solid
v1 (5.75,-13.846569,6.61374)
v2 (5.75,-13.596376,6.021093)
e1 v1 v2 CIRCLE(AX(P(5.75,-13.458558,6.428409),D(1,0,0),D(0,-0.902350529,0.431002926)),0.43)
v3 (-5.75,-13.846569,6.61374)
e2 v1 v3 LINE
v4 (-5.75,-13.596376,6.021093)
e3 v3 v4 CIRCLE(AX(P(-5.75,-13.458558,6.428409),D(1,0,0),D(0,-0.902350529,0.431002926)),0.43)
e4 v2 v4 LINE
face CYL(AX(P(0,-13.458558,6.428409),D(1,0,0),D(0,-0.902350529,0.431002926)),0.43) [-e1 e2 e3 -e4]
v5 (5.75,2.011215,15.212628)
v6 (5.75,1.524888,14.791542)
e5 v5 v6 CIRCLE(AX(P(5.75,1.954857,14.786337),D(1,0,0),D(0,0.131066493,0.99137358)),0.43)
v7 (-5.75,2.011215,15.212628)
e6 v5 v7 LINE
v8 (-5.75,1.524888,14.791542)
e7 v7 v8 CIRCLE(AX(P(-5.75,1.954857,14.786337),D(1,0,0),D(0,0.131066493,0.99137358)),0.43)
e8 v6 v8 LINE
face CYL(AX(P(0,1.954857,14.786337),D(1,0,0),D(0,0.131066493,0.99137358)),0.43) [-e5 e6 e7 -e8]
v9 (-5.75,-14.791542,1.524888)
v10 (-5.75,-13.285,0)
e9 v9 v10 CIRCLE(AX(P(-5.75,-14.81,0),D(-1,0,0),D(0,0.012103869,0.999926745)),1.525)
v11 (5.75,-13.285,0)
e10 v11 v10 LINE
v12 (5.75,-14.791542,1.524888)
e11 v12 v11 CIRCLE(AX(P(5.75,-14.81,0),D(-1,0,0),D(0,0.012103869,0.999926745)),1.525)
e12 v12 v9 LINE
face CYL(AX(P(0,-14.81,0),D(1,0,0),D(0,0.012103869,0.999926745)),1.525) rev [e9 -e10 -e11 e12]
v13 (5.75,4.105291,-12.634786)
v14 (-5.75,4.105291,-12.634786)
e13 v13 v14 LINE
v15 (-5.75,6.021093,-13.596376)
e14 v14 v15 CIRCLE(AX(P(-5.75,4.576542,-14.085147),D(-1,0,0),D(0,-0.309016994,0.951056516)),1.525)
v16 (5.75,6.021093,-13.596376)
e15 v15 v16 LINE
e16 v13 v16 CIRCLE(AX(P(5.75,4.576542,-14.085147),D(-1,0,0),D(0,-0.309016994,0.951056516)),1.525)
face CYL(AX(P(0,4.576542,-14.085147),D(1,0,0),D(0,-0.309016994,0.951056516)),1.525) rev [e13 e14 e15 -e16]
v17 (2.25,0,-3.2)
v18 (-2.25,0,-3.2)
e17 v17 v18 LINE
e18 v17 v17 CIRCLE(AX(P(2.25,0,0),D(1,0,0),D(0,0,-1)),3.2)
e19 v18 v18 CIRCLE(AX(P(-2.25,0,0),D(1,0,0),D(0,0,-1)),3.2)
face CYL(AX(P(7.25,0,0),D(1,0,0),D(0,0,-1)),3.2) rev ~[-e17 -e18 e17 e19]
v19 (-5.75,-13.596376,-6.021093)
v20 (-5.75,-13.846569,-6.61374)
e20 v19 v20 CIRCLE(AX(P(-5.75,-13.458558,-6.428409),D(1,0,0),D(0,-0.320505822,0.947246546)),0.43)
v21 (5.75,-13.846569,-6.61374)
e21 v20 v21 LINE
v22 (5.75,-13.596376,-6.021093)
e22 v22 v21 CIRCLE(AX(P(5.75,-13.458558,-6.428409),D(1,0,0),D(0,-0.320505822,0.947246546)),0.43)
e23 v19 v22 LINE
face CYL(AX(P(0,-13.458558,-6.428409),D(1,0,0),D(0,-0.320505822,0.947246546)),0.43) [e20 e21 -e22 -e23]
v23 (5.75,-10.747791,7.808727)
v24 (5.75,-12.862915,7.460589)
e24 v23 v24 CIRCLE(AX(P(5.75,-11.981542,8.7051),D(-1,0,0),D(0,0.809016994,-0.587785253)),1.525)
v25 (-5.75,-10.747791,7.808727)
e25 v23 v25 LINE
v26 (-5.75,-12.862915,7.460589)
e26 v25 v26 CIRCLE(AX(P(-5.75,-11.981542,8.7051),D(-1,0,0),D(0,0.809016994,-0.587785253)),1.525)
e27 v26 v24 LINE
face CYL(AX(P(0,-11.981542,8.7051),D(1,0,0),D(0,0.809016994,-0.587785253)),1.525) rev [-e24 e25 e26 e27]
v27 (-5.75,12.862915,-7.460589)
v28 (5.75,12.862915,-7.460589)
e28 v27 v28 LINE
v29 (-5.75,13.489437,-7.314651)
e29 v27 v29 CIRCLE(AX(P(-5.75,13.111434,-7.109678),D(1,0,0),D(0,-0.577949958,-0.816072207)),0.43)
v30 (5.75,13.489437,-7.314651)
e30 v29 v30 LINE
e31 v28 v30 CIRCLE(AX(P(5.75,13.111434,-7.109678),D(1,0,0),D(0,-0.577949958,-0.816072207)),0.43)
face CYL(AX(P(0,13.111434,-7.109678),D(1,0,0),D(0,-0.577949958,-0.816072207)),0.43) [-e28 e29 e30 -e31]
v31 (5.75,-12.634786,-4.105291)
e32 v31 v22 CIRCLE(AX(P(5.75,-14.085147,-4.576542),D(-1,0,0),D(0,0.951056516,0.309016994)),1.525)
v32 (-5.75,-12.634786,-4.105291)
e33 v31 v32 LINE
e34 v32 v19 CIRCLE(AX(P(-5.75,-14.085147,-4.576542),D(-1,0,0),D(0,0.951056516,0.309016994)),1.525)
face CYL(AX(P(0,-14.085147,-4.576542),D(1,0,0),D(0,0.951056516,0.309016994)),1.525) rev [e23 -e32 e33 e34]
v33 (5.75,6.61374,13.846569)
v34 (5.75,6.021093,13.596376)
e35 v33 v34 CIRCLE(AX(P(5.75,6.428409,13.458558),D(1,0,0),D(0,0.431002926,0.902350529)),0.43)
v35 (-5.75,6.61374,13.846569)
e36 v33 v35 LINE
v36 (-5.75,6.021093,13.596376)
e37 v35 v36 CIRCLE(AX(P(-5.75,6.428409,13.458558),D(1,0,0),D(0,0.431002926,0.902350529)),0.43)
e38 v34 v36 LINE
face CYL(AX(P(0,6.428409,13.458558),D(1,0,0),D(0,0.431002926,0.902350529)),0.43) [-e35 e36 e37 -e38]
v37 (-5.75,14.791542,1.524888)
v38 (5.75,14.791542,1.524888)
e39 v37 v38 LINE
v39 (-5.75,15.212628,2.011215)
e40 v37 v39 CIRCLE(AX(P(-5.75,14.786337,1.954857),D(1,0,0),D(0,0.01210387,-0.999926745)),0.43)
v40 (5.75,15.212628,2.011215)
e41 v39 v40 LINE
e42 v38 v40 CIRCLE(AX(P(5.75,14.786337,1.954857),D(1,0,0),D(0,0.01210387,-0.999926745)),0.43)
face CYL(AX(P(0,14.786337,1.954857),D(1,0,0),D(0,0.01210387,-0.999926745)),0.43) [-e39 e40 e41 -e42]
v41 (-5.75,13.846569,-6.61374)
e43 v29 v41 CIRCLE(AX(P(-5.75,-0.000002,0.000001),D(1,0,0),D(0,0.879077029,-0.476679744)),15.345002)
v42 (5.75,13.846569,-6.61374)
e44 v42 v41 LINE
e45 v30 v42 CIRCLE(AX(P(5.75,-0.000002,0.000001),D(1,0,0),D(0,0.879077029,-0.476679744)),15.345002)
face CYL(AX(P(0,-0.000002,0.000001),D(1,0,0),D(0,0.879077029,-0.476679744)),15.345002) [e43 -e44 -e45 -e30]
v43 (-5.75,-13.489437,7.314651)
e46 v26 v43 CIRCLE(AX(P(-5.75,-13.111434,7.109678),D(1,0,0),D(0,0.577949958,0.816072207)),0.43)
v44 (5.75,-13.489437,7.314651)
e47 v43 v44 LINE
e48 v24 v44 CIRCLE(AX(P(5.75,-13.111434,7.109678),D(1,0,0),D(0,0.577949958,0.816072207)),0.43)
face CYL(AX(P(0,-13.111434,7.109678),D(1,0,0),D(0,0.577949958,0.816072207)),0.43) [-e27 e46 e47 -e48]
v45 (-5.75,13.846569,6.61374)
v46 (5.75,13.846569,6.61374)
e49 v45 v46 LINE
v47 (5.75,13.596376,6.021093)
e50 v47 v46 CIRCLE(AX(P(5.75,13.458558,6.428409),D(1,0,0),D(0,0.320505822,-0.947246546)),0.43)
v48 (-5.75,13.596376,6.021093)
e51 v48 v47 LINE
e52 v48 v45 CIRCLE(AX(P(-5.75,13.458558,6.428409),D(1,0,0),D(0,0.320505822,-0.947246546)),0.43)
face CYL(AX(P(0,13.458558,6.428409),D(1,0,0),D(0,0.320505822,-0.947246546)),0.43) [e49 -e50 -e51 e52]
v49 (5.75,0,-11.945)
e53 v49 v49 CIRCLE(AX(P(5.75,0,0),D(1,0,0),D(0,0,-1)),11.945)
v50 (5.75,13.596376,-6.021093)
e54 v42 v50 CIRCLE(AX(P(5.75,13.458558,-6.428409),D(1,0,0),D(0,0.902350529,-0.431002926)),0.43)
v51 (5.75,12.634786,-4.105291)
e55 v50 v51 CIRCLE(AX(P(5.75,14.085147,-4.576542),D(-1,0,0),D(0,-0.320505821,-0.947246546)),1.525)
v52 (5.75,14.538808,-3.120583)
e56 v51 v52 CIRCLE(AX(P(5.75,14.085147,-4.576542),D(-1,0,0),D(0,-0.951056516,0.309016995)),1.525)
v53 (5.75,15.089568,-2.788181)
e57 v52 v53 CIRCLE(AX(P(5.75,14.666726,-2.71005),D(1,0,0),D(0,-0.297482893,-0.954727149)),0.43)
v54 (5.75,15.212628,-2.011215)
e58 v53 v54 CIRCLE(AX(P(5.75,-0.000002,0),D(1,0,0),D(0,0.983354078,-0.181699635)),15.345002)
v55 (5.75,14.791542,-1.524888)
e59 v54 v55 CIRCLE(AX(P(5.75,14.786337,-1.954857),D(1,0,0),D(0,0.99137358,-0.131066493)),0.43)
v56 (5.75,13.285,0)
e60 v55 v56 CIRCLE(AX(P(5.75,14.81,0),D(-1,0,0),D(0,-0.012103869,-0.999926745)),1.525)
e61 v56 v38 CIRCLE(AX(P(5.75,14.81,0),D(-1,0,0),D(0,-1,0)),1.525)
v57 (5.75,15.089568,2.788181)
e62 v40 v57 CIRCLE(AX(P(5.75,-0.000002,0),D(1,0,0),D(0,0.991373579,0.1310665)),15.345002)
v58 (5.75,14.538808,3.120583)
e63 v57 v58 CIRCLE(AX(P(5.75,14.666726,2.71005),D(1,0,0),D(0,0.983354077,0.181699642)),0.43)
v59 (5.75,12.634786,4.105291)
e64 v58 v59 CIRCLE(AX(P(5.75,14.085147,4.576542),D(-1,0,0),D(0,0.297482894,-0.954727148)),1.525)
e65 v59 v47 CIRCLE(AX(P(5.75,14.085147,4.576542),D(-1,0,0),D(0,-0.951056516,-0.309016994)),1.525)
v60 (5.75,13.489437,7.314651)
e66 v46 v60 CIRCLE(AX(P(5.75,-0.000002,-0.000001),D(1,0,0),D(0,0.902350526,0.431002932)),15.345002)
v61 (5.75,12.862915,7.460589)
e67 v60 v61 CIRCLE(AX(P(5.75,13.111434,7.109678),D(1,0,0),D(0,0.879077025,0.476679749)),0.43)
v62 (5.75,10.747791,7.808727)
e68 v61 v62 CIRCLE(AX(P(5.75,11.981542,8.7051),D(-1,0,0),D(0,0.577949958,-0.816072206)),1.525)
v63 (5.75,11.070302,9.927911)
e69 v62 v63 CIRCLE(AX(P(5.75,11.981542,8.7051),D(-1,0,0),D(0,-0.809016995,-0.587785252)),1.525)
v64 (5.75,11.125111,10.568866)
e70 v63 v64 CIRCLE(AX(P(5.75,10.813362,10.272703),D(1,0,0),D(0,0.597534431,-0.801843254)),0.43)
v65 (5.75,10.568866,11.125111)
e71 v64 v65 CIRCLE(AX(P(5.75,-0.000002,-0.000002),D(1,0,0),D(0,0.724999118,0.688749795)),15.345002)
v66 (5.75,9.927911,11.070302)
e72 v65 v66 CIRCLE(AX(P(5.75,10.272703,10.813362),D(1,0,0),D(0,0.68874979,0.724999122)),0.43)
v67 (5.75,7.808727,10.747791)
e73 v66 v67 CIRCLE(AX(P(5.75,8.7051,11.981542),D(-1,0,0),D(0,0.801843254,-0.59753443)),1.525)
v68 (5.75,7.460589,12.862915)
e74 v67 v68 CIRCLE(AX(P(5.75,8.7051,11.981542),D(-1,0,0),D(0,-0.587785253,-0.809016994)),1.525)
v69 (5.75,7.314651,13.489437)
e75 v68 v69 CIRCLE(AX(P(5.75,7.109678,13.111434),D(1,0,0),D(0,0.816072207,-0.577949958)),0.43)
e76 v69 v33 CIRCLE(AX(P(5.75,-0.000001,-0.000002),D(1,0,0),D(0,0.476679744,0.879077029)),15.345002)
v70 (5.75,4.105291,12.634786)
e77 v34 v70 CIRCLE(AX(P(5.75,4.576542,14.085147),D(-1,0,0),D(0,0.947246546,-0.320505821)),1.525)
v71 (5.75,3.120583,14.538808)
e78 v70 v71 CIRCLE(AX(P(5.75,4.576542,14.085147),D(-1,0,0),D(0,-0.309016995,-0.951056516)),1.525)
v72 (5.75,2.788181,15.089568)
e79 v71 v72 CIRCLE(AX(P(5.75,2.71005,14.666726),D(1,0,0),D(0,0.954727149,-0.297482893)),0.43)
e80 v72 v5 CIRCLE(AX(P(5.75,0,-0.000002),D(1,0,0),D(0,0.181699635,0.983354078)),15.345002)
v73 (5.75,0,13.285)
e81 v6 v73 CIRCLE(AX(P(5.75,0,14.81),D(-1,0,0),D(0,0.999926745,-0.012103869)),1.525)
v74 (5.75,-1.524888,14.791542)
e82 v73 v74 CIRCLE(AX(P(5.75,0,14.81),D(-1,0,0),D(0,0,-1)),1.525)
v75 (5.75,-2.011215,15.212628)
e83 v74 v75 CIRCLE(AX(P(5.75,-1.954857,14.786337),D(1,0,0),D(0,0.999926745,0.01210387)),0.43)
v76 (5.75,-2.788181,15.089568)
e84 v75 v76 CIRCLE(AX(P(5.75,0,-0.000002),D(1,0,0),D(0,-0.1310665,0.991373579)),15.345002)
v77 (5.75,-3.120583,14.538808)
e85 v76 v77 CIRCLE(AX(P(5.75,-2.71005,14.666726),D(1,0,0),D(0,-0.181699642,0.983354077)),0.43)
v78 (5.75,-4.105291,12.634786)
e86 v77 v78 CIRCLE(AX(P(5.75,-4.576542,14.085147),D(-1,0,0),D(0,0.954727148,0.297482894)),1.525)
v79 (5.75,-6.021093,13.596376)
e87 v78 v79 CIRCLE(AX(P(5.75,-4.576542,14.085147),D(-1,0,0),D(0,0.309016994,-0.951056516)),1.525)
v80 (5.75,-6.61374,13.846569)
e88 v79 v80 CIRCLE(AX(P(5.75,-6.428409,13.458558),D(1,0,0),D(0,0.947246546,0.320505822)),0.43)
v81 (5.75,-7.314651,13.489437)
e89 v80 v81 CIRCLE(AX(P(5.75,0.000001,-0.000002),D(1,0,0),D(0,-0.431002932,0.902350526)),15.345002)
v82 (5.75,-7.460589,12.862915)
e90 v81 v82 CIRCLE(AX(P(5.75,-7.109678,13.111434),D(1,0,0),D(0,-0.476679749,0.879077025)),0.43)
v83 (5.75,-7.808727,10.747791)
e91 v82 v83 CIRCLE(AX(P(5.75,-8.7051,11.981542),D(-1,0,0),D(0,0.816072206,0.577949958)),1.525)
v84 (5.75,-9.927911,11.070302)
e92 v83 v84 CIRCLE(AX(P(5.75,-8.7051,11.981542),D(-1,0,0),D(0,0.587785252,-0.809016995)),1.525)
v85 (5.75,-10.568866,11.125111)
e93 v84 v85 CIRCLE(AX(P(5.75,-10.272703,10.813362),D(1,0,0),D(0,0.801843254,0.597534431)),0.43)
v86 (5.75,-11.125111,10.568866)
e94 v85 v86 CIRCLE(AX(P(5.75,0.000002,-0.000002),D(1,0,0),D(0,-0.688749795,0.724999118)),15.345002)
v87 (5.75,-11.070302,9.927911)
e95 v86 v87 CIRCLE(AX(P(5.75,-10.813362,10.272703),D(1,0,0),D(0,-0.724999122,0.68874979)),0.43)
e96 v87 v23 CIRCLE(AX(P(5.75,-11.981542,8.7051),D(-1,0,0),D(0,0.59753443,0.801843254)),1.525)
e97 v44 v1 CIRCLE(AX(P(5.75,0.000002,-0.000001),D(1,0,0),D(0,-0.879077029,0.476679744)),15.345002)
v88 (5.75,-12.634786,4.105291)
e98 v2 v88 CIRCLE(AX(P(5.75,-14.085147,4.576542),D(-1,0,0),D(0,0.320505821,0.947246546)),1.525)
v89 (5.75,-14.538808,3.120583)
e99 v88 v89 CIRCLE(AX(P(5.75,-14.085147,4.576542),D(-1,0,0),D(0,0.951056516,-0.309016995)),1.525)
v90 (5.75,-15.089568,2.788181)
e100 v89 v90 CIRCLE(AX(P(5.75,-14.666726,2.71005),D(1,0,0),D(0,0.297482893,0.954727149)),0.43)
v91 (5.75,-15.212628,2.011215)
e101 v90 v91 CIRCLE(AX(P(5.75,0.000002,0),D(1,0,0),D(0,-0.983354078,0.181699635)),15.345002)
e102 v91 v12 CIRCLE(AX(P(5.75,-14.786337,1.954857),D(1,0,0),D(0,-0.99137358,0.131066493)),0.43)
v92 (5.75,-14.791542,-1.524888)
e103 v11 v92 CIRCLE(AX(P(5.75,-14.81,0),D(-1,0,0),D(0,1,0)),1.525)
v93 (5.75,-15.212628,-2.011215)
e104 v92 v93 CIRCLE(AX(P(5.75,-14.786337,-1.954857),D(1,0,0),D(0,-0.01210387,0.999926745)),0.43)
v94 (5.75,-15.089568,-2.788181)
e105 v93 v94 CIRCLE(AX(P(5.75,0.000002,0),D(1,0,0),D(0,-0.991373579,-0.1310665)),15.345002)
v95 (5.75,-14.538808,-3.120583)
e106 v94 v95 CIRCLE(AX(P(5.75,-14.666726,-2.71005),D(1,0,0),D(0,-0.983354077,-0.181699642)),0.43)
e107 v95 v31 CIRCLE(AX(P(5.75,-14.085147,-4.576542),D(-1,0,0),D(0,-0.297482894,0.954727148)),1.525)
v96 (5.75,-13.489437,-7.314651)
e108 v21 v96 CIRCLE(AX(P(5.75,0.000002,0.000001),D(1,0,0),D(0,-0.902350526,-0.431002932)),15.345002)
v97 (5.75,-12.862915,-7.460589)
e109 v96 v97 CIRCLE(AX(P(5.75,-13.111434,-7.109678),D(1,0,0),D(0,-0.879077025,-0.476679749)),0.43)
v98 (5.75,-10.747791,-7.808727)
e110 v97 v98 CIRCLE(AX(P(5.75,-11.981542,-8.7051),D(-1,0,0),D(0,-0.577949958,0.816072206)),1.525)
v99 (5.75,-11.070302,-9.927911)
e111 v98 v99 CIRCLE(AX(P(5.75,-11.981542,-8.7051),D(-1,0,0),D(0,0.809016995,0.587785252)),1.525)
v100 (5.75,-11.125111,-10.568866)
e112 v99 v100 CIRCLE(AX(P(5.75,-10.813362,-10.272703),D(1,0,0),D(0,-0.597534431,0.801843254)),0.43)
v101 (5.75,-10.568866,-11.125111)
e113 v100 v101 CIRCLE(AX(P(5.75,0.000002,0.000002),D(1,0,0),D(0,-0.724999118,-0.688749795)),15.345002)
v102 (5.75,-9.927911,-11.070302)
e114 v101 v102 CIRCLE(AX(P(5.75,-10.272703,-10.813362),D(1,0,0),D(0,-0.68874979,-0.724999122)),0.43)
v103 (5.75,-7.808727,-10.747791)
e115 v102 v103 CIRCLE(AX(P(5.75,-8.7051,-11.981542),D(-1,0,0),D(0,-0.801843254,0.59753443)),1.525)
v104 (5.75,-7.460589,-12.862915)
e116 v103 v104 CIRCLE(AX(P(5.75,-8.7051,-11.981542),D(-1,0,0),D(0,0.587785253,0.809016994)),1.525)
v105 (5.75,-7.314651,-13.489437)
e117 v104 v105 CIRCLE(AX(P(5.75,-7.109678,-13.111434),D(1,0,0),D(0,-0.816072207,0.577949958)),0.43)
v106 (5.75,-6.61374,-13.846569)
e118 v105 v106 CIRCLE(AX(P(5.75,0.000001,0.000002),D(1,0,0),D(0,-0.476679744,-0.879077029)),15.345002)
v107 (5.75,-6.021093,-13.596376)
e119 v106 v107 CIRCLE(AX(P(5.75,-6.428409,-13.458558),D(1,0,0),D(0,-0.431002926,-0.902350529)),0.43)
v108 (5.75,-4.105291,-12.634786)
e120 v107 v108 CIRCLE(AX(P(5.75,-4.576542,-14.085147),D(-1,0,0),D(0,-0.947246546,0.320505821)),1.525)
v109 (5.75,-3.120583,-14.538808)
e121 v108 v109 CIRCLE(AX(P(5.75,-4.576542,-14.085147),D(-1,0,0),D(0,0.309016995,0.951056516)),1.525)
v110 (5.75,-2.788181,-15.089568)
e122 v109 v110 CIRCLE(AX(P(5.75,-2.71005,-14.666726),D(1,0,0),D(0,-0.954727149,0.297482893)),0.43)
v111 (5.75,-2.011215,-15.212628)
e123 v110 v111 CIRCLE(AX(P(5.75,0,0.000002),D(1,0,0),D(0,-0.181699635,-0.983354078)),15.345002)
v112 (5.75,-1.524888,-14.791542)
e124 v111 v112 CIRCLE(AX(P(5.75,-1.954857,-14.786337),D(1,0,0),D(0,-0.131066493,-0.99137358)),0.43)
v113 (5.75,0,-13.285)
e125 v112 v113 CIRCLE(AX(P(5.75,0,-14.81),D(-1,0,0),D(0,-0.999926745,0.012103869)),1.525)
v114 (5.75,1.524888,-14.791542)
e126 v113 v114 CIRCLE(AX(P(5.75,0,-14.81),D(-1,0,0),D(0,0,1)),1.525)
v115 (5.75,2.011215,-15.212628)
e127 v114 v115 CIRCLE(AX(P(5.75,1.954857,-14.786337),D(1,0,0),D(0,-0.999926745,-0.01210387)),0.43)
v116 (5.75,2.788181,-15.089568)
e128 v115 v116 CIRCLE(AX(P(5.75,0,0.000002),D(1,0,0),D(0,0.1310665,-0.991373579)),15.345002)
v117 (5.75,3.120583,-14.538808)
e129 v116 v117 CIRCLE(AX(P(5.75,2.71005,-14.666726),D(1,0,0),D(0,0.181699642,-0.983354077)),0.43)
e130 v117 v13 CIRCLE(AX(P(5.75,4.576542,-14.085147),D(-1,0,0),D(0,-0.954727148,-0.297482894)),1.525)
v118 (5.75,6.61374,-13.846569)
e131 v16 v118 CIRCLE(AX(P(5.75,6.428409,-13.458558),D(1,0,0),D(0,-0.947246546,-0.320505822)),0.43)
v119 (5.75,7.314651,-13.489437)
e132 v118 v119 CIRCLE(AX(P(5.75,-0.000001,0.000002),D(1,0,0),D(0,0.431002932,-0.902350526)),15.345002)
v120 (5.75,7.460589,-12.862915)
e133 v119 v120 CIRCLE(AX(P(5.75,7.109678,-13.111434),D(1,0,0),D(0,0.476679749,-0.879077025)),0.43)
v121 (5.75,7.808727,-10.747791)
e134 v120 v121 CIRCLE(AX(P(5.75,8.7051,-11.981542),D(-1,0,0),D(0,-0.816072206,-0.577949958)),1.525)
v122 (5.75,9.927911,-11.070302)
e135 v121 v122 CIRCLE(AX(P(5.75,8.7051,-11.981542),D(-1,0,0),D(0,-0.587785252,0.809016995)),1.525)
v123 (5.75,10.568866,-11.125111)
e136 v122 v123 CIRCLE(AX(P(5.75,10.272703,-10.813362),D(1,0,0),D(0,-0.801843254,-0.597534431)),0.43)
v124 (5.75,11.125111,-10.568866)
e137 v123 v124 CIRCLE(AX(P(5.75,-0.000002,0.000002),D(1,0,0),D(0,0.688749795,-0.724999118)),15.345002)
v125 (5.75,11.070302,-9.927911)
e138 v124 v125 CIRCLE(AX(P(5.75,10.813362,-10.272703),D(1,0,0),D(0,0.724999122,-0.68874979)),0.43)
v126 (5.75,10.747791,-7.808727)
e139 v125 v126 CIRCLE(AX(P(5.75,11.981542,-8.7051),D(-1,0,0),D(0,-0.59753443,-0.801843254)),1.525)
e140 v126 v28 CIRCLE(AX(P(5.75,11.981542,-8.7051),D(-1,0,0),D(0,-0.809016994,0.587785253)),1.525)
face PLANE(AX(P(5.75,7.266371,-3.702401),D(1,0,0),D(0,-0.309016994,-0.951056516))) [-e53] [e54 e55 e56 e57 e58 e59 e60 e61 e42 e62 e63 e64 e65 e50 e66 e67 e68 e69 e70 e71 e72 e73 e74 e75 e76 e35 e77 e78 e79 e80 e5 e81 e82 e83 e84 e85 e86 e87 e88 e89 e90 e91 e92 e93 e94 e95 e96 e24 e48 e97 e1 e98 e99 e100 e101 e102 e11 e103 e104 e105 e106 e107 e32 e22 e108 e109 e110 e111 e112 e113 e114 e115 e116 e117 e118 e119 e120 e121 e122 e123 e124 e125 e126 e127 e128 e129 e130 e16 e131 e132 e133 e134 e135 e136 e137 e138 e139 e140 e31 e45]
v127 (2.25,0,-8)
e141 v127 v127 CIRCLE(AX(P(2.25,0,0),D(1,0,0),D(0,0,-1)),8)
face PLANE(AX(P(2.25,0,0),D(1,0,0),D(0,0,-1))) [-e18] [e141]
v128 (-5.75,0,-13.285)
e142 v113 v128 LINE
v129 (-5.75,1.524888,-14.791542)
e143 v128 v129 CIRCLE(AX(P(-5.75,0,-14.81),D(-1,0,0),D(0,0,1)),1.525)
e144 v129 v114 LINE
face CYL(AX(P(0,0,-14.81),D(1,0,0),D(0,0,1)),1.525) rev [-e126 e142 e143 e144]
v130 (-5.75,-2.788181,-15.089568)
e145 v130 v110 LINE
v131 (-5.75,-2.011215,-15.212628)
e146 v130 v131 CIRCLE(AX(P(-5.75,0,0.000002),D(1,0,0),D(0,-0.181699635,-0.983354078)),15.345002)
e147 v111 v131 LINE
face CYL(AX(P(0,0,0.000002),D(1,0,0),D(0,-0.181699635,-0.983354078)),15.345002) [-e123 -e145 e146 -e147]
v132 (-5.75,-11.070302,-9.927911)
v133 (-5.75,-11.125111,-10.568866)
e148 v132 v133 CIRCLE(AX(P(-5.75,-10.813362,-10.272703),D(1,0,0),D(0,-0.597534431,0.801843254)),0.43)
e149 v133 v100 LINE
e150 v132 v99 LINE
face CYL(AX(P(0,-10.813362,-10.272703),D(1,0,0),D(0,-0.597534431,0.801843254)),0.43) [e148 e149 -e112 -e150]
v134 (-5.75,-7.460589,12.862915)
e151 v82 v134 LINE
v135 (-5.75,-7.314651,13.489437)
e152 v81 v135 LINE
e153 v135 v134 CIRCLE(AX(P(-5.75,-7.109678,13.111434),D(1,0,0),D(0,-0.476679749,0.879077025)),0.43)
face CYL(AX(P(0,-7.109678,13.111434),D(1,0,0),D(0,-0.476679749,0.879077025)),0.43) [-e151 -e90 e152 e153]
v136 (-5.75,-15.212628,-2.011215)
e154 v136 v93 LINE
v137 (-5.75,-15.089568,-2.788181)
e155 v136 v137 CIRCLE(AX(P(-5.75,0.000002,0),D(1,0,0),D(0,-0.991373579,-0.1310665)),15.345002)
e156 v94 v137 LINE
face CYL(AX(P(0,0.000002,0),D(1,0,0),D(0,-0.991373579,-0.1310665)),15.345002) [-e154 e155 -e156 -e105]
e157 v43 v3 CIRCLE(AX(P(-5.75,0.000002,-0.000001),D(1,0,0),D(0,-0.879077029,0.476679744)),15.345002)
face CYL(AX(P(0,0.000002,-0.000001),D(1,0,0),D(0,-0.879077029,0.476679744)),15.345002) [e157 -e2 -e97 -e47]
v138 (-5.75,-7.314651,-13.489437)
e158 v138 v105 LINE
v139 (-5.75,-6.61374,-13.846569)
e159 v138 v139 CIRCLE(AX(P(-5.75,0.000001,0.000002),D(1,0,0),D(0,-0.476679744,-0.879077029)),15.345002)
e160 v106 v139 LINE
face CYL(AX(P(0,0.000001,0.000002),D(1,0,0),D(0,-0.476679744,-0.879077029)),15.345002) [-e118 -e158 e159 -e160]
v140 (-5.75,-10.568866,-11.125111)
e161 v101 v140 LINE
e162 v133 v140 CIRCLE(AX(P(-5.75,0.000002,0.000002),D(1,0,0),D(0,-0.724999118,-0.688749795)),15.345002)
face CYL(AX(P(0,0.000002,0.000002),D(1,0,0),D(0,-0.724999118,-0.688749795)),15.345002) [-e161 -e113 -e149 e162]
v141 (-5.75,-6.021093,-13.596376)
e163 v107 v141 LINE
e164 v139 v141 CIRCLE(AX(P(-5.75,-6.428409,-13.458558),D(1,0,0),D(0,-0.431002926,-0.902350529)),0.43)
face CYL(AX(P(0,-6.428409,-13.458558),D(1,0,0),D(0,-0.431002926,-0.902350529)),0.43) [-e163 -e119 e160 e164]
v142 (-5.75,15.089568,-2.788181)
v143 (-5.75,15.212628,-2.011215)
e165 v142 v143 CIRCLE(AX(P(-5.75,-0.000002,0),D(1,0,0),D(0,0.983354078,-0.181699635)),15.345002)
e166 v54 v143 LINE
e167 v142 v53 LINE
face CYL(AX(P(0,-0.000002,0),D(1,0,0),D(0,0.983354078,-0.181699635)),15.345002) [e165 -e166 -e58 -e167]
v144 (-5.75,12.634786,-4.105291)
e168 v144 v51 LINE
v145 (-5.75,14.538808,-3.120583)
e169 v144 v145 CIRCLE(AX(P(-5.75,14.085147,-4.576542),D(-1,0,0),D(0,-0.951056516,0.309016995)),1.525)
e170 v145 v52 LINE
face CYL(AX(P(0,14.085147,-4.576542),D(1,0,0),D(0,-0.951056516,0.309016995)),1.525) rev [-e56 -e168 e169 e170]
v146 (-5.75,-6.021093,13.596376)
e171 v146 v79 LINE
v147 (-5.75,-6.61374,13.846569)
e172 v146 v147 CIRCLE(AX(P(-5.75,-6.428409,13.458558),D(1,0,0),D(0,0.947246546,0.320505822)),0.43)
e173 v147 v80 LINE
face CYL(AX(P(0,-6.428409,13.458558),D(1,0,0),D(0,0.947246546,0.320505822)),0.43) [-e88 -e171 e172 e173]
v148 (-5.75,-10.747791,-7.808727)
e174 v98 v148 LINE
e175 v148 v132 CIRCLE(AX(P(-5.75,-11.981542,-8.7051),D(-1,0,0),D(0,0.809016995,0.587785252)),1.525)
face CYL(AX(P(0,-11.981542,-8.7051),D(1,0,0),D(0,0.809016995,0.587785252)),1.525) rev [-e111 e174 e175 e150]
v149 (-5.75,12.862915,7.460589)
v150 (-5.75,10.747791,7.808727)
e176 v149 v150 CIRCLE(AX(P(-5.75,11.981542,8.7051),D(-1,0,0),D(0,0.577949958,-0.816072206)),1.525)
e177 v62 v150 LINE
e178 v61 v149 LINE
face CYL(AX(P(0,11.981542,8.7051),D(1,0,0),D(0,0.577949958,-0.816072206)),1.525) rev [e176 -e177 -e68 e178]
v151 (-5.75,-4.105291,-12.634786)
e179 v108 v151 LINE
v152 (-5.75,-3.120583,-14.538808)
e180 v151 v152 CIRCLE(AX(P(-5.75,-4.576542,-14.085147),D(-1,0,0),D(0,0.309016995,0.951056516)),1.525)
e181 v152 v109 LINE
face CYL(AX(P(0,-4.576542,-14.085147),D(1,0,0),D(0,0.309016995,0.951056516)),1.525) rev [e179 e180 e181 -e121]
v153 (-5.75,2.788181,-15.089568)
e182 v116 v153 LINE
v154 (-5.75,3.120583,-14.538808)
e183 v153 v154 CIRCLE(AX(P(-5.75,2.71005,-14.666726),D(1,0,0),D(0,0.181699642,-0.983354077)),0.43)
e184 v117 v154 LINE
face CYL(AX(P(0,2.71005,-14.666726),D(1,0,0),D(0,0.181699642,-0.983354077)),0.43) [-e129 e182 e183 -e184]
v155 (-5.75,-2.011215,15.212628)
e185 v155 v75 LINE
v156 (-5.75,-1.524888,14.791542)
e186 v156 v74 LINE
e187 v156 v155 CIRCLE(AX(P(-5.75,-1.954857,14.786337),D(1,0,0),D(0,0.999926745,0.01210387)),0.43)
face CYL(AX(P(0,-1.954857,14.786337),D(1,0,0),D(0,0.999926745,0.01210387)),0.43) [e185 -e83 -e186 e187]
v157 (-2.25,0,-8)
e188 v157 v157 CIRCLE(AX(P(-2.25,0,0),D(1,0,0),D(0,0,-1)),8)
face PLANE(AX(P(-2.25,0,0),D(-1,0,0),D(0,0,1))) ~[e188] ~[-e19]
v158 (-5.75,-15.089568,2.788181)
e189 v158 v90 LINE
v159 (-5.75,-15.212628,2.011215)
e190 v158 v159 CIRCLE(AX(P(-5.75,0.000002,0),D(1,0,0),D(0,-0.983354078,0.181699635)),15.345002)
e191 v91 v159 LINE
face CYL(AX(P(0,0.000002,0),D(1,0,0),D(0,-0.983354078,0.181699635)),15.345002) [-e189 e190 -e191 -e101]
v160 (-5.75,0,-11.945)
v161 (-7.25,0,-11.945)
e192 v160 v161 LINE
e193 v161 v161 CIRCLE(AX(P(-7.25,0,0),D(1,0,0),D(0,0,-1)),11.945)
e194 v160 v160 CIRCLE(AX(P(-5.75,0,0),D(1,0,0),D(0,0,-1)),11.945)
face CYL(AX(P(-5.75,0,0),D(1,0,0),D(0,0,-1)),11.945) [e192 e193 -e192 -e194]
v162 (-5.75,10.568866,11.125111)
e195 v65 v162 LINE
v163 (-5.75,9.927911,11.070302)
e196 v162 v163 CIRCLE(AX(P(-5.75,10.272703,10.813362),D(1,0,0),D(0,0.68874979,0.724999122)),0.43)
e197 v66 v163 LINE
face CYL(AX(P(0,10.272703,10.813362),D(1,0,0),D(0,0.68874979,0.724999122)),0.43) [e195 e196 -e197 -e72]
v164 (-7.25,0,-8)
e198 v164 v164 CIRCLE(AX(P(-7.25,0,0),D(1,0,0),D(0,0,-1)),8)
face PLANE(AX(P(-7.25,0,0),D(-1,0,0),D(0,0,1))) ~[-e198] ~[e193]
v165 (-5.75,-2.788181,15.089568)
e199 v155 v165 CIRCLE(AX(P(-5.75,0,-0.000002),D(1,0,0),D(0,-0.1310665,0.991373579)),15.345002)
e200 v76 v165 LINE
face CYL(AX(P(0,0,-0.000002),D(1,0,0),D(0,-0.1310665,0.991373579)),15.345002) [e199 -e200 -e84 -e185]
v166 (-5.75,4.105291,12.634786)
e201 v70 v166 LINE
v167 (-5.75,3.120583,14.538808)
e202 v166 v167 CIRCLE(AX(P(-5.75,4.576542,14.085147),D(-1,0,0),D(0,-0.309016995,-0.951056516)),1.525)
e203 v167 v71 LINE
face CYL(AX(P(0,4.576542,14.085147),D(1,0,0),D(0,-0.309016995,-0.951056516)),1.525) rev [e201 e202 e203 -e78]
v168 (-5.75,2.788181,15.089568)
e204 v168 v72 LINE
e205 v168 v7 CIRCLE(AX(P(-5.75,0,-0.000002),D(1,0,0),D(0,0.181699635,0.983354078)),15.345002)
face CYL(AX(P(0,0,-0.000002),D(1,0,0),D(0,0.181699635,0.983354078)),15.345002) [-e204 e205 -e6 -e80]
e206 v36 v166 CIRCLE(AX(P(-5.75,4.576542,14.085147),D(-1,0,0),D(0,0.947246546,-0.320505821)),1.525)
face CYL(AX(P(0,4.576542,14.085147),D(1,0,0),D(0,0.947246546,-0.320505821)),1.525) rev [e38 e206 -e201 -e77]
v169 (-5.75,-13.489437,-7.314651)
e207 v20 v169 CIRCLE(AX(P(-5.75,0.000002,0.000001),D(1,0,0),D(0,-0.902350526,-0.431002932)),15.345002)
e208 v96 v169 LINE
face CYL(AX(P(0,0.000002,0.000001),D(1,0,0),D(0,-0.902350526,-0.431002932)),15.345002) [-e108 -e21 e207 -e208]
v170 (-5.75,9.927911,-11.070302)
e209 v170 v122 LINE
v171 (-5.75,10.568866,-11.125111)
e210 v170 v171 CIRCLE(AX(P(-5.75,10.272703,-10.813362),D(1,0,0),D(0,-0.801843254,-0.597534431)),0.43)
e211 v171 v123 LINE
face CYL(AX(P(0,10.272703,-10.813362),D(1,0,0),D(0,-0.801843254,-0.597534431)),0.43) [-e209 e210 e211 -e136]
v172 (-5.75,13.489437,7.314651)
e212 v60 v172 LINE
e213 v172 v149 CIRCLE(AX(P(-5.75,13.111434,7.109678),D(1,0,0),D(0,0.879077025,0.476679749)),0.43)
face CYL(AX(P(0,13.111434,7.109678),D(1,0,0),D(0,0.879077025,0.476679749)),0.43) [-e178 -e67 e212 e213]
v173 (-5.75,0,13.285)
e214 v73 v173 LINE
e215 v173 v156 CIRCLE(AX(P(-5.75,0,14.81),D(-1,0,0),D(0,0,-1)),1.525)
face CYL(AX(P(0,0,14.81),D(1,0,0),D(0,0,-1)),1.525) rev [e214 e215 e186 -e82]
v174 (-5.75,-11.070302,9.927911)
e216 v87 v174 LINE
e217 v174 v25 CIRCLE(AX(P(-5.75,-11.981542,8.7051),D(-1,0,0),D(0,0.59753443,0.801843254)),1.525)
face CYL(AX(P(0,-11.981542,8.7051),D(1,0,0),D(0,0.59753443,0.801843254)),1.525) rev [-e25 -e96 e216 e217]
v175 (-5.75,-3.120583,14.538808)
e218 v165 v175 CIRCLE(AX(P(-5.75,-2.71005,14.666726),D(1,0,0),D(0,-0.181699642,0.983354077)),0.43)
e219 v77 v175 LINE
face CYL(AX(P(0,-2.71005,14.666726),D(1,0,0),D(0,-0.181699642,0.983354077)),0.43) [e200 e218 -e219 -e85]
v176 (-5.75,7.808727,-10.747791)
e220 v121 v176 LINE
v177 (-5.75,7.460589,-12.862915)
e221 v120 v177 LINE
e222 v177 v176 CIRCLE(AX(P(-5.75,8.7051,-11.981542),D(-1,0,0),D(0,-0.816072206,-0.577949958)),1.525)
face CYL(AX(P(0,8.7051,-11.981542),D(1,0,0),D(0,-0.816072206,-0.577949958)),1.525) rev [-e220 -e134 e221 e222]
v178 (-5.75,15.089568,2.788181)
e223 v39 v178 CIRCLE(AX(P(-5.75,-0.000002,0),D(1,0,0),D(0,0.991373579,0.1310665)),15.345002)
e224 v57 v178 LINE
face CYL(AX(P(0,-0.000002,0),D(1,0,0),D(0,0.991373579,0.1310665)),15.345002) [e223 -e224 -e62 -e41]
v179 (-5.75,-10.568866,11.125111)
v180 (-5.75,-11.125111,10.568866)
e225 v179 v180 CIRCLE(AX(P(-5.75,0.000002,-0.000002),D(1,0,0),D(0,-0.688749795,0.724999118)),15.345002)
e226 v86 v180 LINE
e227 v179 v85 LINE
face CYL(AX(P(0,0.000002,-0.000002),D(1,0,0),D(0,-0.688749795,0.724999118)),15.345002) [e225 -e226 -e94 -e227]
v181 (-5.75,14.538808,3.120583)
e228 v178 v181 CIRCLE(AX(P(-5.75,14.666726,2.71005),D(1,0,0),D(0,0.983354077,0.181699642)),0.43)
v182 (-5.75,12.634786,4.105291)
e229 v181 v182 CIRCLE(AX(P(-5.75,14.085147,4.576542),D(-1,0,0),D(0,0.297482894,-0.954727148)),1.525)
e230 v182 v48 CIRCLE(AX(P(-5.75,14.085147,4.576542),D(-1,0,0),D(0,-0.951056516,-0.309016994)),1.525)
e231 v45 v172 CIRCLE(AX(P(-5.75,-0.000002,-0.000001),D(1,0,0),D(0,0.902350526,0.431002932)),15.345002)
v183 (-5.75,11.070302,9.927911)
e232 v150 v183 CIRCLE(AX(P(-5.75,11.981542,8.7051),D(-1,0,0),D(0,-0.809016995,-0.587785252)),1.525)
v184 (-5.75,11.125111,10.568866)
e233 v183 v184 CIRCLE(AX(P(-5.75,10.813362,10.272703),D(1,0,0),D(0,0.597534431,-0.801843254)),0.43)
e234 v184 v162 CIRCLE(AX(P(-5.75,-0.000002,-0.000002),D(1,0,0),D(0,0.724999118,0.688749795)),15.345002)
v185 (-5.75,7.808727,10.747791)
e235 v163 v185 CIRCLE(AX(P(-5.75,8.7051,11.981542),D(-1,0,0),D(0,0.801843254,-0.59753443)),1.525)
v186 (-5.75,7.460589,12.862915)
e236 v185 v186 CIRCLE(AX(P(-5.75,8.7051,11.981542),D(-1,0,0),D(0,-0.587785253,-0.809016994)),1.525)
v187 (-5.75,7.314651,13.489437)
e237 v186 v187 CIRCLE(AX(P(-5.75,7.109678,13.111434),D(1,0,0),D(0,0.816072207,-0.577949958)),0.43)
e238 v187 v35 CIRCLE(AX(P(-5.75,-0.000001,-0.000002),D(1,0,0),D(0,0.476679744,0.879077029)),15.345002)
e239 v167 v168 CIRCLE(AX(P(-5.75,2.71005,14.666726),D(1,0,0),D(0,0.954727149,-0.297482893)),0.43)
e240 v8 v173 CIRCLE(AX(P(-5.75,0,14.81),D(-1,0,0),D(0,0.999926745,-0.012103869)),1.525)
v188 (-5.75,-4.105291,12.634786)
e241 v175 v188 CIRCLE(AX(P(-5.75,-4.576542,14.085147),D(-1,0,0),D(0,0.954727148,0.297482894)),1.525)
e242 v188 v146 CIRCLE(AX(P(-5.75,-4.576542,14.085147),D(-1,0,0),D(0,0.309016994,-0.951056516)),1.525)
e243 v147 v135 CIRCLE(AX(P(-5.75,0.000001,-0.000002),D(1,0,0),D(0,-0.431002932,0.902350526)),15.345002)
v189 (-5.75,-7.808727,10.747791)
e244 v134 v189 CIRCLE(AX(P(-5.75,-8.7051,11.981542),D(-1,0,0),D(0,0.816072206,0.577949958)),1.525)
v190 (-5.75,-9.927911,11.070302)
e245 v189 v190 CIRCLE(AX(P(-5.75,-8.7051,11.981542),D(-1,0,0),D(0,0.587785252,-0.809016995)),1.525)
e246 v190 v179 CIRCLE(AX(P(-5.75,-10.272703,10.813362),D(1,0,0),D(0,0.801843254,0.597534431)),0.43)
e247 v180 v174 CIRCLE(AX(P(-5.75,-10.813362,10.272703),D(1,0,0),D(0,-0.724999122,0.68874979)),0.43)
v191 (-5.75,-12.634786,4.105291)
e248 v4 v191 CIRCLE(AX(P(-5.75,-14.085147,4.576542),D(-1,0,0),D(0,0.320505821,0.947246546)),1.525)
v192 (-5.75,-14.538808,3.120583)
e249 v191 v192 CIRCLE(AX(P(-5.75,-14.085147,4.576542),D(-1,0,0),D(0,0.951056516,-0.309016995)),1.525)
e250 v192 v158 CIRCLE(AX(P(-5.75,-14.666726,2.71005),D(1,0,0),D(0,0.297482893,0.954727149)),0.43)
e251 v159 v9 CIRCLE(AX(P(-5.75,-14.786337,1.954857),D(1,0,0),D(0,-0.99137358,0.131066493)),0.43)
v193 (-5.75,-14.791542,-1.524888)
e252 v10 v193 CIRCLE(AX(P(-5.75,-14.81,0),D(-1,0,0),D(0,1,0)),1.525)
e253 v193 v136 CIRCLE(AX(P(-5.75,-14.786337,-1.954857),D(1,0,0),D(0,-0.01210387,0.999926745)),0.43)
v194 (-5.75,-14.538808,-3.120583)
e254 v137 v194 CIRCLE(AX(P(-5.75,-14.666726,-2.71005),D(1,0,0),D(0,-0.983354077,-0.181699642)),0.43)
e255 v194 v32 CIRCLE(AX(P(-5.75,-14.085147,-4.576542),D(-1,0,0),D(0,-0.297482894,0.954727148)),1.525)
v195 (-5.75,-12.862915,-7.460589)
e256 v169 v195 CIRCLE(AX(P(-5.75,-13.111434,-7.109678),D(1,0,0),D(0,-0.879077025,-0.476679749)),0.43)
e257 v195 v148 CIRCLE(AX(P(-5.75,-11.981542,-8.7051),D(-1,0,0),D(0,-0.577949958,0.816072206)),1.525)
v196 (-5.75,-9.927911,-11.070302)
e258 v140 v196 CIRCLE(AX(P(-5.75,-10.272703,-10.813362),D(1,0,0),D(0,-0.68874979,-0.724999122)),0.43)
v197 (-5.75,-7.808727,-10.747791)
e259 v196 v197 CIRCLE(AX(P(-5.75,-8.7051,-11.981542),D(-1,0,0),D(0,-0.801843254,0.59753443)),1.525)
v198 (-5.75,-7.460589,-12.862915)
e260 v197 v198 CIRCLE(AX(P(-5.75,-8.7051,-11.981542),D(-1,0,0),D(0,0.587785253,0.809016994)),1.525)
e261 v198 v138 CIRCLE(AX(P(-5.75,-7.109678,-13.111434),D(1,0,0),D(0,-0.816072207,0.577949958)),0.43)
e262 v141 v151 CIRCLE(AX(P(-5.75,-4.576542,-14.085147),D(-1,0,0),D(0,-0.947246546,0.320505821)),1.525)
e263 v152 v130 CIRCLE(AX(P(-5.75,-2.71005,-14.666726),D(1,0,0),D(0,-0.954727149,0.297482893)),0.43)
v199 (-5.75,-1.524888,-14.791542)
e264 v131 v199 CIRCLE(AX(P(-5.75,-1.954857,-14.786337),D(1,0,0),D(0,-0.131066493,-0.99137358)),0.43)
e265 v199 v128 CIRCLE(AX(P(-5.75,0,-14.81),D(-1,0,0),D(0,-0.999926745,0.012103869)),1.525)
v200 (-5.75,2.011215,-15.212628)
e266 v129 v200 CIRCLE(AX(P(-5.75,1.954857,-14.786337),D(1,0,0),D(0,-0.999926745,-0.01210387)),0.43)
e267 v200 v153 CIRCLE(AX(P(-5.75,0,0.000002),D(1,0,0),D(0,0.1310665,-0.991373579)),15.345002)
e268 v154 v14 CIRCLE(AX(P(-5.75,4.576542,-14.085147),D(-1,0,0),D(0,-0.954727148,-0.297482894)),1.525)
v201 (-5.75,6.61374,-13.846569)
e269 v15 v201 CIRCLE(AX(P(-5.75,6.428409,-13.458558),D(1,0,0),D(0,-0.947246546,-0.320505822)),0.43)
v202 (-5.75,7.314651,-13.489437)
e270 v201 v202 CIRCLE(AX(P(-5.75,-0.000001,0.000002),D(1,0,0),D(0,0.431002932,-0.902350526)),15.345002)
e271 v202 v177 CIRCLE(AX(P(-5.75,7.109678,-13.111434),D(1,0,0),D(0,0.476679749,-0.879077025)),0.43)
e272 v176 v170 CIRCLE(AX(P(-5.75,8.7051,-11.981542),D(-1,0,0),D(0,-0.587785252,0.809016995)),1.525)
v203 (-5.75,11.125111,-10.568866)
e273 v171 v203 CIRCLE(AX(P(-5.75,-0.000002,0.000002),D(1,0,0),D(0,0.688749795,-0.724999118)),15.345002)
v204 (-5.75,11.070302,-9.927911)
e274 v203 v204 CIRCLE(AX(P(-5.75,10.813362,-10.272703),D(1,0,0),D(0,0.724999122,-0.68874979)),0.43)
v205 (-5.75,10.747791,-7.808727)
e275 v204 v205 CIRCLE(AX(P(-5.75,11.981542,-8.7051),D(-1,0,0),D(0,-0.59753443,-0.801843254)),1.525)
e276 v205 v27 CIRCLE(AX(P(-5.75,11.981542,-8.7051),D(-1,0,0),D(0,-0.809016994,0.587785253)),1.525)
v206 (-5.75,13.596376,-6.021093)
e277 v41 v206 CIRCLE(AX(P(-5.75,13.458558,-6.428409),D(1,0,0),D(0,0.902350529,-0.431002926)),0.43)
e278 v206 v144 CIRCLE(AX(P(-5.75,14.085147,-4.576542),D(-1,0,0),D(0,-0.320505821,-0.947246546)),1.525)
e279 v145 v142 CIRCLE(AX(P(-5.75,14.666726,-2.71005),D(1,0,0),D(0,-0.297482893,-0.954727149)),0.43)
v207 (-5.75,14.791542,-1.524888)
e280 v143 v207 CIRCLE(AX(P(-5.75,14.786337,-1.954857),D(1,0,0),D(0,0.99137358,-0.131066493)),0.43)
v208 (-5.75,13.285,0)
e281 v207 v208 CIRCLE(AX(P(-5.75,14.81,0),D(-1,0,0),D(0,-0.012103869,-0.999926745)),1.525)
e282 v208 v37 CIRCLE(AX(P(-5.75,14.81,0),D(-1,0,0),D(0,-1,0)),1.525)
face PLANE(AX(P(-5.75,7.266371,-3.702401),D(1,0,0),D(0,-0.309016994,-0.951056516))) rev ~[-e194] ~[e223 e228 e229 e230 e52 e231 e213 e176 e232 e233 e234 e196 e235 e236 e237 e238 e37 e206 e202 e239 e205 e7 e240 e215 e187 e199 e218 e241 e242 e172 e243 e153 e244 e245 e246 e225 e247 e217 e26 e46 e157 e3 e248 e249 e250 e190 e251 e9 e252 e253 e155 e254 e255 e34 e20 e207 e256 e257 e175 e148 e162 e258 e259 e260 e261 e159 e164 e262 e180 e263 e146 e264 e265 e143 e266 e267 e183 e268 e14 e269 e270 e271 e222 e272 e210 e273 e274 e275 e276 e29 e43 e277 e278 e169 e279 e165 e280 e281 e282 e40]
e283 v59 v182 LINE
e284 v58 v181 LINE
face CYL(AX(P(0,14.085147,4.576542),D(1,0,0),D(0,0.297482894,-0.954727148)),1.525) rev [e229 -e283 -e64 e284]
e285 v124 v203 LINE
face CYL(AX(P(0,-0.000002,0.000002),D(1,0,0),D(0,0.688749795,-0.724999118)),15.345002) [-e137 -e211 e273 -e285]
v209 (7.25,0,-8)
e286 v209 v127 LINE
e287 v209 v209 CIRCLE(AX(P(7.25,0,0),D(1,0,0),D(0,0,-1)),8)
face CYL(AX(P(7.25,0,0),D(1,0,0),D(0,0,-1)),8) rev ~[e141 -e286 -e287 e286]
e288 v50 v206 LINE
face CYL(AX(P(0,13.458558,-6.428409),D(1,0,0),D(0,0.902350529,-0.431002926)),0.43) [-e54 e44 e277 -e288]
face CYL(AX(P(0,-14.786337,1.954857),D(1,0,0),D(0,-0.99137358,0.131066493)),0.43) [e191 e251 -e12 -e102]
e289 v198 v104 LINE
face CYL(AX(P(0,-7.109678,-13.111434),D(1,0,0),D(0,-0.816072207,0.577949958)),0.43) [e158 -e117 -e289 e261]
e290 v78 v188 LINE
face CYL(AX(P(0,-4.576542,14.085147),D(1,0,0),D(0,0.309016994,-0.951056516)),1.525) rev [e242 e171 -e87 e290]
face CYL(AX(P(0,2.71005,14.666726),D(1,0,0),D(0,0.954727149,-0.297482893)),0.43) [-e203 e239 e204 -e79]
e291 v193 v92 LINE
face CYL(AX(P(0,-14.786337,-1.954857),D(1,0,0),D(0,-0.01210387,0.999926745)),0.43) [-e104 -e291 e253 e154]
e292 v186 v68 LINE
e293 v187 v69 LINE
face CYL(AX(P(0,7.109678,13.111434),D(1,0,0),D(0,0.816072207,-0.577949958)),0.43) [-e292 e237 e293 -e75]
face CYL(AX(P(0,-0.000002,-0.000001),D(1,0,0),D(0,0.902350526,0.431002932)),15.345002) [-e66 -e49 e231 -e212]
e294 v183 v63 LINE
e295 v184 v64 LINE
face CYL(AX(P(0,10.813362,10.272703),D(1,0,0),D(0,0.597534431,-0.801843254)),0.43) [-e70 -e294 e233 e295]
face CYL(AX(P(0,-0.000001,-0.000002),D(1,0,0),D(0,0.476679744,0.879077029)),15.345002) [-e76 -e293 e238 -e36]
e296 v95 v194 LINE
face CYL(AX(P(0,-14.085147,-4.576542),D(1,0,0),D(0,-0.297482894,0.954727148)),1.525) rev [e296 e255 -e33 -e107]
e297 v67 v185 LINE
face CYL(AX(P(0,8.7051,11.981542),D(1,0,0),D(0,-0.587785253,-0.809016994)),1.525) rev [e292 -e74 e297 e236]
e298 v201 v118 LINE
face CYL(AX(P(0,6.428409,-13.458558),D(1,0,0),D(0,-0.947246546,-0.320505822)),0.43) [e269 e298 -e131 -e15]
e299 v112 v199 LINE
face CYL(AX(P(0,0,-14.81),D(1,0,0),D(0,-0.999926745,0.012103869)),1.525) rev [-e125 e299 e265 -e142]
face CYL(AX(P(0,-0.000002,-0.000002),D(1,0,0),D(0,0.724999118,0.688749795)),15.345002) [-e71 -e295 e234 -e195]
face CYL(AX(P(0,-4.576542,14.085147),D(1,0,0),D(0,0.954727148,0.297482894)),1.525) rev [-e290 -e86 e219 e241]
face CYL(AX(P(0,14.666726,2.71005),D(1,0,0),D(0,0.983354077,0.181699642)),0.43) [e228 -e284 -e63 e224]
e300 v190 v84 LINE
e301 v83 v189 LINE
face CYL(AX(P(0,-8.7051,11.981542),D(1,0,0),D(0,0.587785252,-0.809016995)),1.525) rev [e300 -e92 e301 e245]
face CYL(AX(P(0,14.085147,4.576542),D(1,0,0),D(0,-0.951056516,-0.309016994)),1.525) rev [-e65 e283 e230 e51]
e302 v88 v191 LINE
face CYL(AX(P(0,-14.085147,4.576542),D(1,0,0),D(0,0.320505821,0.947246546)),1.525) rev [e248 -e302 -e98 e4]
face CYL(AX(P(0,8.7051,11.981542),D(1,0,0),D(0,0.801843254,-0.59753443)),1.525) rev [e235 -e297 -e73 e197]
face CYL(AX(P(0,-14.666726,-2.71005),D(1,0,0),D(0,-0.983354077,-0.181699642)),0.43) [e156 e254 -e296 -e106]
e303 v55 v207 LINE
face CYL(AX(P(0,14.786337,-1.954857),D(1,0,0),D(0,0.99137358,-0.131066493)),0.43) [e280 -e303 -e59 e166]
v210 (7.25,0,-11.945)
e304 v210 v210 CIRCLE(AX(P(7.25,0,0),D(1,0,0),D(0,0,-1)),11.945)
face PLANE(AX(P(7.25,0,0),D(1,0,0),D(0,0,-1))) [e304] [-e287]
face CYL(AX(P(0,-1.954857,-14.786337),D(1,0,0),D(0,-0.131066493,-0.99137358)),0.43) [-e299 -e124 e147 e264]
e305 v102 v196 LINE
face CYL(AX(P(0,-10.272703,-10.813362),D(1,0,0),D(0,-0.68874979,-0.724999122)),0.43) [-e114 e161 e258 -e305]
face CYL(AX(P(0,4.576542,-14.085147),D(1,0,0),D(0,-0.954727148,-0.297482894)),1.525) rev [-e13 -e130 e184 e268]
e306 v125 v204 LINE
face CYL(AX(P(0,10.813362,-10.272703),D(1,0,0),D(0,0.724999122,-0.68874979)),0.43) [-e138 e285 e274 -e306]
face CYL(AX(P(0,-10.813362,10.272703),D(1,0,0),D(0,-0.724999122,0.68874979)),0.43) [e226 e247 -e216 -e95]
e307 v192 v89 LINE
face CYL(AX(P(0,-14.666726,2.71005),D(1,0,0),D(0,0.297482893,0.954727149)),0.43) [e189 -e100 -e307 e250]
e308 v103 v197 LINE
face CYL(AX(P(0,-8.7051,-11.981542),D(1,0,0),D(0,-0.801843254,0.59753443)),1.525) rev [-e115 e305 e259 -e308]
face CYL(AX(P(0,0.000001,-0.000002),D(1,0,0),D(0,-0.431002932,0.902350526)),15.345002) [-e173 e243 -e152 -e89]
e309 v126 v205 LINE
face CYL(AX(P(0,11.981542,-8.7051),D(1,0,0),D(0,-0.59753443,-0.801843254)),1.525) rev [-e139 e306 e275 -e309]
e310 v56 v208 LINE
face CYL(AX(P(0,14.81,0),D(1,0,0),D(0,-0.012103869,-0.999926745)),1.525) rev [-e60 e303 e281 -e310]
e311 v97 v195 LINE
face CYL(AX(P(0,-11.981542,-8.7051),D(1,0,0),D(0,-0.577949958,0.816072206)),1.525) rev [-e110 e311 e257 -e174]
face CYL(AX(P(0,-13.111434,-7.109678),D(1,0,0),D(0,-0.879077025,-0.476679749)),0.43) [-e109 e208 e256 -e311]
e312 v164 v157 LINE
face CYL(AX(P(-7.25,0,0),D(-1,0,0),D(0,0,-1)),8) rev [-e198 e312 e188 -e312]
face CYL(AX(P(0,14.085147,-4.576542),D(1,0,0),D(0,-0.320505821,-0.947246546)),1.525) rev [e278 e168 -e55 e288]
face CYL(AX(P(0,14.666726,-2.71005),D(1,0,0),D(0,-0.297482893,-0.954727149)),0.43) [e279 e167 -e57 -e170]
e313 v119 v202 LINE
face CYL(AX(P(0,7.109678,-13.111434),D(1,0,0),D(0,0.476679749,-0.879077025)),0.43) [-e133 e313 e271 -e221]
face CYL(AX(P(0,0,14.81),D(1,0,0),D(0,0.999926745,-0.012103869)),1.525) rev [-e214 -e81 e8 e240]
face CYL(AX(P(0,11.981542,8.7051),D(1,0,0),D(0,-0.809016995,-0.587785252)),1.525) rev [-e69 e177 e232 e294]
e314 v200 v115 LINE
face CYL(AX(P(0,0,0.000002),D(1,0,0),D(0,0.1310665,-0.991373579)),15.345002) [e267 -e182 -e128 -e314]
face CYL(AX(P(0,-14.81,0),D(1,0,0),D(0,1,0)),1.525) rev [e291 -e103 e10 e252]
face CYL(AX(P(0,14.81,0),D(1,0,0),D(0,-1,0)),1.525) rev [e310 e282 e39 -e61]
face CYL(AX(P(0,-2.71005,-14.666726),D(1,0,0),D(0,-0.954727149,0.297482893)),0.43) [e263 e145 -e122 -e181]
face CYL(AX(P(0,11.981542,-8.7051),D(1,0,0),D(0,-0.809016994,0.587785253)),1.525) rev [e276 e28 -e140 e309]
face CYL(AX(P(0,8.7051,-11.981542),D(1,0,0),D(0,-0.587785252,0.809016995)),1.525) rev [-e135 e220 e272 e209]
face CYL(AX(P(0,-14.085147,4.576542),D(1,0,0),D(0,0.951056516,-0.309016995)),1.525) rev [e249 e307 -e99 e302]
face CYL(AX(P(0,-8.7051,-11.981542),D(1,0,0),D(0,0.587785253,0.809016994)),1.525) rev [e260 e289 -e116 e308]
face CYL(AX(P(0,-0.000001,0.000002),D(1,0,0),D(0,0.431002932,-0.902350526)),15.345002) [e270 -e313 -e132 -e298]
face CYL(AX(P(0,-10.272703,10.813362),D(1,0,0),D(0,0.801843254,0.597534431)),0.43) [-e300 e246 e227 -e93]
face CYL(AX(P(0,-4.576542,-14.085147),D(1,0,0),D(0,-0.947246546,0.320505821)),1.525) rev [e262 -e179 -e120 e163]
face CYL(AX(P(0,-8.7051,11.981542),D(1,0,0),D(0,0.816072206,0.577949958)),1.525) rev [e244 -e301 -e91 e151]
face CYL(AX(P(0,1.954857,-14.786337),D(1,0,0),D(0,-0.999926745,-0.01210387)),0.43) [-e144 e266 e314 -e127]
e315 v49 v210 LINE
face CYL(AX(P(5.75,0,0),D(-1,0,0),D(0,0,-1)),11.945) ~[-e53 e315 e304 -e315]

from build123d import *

# Parameters (mm, degrees)
BOSS_EXTRUDE1_DEPTH = 5.75
CIRPATTERN1_COUNT   = 20
SKETCH2_R           = 11.945
BOSS_EXTRUDE2_DEPTH = 1.5
SKETCH4_R           = 8
CUT_EXTRUDE2_DEPTH  = 5
SKETCH3_R           = 3.2
CUT_EXTRUDE1_DEPTH  = 14.5


with BuildPart() as part:
    # Sketch1 → Boss-Extrude1 (new, symmetric)
    with BuildSketch(Plane(origin=(0, 0, 0), x_dir=(0, 0, -1), z_dir=(1, 0, 0))):
        with BuildLine():
            Line((0, 13.285), (0, 0))
            Line((0, 0), (4.10529077, 12.634785819))
            ThreePointArc((4.10529077, 12.634785819), (3.221971668, 13.384600745), (3.120582785, 14.538808418))
            ThreePointArc((3.120582785, 14.538808418), (3.07819699, 14.888914891), (2.788180956, 15.089568316))
            ThreePointArc((2.788180956, 15.089568316), (2.400486866, 15.156077586), (2.011215381, 15.212627574))
            ThreePointArc((2.011215381, 15.212627574), (1.673388423, 15.111414709), (1.524888287, 14.791541599))
            ThreePointArc((1.524888287, 14.791541599), (1.071791943, 13.725155757), (0, 13.285))
        make_face()
    boss_extrude1 = extrude(amount=BOSS_EXTRUDE1_DEPTH, both=True)

    # CirPattern1: Boss-Extrude1 ×20 about axis
    cirpattern1_axis = Axis((0, 0, 0), (1, 0, 0))
    for i in range(1, CIRPATTERN1_COUNT):
        add(boss_extrude1.rotate(cirpattern1_axis, i * 360 / CIRPATTERN1_COUNT))

    # Sketch2 → Boss-Extrude2 (add)
    with BuildSketch(Plane(origin=(5.75, 0, 0), x_dir=(0, 0, -1), z_dir=(1, 0, 0))):
        Circle(SKETCH2_R)
    boss_extrude2 = extrude(amount=BOSS_EXTRUDE2_DEPTH)

    # Sketch4 → Cut-Extrude2 (cut)
    with BuildSketch(Plane(origin=(7.25, 0, 0), x_dir=(0, 0, -1), z_dir=(1, 0, 0))):
        Circle(SKETCH4_R)
    cut_extrude2 = extrude(amount=-CUT_EXTRUDE2_DEPTH, mode=Mode.SUBTRACT)

    # Mirror1: Boss-Extrude2, Cut-Extrude2 across plane
    add(boss_extrude2.mirror(Plane(origin=(0, 0, 0), x_dir=(0, 0, 1), z_dir=(1, 0, 0))))
    add(cut_extrude2.mirror(Plane(origin=(0, 0, 0), x_dir=(0, 0, 1), z_dir=(1, 0, 0))), mode=Mode.SUBTRACT)

    # Sketch3 → Cut-Extrude1 (cut)
    with BuildSketch(Plane(origin=(7.25, 0, 0), x_dir=(0, 0, -1), z_dir=(1, 0, 0))):
        Circle(SKETCH3_R)
    extrude(amount=-CUT_EXTRUDE1_DEPTH, mode=Mode.SUBTRACT)


solid = part.part
